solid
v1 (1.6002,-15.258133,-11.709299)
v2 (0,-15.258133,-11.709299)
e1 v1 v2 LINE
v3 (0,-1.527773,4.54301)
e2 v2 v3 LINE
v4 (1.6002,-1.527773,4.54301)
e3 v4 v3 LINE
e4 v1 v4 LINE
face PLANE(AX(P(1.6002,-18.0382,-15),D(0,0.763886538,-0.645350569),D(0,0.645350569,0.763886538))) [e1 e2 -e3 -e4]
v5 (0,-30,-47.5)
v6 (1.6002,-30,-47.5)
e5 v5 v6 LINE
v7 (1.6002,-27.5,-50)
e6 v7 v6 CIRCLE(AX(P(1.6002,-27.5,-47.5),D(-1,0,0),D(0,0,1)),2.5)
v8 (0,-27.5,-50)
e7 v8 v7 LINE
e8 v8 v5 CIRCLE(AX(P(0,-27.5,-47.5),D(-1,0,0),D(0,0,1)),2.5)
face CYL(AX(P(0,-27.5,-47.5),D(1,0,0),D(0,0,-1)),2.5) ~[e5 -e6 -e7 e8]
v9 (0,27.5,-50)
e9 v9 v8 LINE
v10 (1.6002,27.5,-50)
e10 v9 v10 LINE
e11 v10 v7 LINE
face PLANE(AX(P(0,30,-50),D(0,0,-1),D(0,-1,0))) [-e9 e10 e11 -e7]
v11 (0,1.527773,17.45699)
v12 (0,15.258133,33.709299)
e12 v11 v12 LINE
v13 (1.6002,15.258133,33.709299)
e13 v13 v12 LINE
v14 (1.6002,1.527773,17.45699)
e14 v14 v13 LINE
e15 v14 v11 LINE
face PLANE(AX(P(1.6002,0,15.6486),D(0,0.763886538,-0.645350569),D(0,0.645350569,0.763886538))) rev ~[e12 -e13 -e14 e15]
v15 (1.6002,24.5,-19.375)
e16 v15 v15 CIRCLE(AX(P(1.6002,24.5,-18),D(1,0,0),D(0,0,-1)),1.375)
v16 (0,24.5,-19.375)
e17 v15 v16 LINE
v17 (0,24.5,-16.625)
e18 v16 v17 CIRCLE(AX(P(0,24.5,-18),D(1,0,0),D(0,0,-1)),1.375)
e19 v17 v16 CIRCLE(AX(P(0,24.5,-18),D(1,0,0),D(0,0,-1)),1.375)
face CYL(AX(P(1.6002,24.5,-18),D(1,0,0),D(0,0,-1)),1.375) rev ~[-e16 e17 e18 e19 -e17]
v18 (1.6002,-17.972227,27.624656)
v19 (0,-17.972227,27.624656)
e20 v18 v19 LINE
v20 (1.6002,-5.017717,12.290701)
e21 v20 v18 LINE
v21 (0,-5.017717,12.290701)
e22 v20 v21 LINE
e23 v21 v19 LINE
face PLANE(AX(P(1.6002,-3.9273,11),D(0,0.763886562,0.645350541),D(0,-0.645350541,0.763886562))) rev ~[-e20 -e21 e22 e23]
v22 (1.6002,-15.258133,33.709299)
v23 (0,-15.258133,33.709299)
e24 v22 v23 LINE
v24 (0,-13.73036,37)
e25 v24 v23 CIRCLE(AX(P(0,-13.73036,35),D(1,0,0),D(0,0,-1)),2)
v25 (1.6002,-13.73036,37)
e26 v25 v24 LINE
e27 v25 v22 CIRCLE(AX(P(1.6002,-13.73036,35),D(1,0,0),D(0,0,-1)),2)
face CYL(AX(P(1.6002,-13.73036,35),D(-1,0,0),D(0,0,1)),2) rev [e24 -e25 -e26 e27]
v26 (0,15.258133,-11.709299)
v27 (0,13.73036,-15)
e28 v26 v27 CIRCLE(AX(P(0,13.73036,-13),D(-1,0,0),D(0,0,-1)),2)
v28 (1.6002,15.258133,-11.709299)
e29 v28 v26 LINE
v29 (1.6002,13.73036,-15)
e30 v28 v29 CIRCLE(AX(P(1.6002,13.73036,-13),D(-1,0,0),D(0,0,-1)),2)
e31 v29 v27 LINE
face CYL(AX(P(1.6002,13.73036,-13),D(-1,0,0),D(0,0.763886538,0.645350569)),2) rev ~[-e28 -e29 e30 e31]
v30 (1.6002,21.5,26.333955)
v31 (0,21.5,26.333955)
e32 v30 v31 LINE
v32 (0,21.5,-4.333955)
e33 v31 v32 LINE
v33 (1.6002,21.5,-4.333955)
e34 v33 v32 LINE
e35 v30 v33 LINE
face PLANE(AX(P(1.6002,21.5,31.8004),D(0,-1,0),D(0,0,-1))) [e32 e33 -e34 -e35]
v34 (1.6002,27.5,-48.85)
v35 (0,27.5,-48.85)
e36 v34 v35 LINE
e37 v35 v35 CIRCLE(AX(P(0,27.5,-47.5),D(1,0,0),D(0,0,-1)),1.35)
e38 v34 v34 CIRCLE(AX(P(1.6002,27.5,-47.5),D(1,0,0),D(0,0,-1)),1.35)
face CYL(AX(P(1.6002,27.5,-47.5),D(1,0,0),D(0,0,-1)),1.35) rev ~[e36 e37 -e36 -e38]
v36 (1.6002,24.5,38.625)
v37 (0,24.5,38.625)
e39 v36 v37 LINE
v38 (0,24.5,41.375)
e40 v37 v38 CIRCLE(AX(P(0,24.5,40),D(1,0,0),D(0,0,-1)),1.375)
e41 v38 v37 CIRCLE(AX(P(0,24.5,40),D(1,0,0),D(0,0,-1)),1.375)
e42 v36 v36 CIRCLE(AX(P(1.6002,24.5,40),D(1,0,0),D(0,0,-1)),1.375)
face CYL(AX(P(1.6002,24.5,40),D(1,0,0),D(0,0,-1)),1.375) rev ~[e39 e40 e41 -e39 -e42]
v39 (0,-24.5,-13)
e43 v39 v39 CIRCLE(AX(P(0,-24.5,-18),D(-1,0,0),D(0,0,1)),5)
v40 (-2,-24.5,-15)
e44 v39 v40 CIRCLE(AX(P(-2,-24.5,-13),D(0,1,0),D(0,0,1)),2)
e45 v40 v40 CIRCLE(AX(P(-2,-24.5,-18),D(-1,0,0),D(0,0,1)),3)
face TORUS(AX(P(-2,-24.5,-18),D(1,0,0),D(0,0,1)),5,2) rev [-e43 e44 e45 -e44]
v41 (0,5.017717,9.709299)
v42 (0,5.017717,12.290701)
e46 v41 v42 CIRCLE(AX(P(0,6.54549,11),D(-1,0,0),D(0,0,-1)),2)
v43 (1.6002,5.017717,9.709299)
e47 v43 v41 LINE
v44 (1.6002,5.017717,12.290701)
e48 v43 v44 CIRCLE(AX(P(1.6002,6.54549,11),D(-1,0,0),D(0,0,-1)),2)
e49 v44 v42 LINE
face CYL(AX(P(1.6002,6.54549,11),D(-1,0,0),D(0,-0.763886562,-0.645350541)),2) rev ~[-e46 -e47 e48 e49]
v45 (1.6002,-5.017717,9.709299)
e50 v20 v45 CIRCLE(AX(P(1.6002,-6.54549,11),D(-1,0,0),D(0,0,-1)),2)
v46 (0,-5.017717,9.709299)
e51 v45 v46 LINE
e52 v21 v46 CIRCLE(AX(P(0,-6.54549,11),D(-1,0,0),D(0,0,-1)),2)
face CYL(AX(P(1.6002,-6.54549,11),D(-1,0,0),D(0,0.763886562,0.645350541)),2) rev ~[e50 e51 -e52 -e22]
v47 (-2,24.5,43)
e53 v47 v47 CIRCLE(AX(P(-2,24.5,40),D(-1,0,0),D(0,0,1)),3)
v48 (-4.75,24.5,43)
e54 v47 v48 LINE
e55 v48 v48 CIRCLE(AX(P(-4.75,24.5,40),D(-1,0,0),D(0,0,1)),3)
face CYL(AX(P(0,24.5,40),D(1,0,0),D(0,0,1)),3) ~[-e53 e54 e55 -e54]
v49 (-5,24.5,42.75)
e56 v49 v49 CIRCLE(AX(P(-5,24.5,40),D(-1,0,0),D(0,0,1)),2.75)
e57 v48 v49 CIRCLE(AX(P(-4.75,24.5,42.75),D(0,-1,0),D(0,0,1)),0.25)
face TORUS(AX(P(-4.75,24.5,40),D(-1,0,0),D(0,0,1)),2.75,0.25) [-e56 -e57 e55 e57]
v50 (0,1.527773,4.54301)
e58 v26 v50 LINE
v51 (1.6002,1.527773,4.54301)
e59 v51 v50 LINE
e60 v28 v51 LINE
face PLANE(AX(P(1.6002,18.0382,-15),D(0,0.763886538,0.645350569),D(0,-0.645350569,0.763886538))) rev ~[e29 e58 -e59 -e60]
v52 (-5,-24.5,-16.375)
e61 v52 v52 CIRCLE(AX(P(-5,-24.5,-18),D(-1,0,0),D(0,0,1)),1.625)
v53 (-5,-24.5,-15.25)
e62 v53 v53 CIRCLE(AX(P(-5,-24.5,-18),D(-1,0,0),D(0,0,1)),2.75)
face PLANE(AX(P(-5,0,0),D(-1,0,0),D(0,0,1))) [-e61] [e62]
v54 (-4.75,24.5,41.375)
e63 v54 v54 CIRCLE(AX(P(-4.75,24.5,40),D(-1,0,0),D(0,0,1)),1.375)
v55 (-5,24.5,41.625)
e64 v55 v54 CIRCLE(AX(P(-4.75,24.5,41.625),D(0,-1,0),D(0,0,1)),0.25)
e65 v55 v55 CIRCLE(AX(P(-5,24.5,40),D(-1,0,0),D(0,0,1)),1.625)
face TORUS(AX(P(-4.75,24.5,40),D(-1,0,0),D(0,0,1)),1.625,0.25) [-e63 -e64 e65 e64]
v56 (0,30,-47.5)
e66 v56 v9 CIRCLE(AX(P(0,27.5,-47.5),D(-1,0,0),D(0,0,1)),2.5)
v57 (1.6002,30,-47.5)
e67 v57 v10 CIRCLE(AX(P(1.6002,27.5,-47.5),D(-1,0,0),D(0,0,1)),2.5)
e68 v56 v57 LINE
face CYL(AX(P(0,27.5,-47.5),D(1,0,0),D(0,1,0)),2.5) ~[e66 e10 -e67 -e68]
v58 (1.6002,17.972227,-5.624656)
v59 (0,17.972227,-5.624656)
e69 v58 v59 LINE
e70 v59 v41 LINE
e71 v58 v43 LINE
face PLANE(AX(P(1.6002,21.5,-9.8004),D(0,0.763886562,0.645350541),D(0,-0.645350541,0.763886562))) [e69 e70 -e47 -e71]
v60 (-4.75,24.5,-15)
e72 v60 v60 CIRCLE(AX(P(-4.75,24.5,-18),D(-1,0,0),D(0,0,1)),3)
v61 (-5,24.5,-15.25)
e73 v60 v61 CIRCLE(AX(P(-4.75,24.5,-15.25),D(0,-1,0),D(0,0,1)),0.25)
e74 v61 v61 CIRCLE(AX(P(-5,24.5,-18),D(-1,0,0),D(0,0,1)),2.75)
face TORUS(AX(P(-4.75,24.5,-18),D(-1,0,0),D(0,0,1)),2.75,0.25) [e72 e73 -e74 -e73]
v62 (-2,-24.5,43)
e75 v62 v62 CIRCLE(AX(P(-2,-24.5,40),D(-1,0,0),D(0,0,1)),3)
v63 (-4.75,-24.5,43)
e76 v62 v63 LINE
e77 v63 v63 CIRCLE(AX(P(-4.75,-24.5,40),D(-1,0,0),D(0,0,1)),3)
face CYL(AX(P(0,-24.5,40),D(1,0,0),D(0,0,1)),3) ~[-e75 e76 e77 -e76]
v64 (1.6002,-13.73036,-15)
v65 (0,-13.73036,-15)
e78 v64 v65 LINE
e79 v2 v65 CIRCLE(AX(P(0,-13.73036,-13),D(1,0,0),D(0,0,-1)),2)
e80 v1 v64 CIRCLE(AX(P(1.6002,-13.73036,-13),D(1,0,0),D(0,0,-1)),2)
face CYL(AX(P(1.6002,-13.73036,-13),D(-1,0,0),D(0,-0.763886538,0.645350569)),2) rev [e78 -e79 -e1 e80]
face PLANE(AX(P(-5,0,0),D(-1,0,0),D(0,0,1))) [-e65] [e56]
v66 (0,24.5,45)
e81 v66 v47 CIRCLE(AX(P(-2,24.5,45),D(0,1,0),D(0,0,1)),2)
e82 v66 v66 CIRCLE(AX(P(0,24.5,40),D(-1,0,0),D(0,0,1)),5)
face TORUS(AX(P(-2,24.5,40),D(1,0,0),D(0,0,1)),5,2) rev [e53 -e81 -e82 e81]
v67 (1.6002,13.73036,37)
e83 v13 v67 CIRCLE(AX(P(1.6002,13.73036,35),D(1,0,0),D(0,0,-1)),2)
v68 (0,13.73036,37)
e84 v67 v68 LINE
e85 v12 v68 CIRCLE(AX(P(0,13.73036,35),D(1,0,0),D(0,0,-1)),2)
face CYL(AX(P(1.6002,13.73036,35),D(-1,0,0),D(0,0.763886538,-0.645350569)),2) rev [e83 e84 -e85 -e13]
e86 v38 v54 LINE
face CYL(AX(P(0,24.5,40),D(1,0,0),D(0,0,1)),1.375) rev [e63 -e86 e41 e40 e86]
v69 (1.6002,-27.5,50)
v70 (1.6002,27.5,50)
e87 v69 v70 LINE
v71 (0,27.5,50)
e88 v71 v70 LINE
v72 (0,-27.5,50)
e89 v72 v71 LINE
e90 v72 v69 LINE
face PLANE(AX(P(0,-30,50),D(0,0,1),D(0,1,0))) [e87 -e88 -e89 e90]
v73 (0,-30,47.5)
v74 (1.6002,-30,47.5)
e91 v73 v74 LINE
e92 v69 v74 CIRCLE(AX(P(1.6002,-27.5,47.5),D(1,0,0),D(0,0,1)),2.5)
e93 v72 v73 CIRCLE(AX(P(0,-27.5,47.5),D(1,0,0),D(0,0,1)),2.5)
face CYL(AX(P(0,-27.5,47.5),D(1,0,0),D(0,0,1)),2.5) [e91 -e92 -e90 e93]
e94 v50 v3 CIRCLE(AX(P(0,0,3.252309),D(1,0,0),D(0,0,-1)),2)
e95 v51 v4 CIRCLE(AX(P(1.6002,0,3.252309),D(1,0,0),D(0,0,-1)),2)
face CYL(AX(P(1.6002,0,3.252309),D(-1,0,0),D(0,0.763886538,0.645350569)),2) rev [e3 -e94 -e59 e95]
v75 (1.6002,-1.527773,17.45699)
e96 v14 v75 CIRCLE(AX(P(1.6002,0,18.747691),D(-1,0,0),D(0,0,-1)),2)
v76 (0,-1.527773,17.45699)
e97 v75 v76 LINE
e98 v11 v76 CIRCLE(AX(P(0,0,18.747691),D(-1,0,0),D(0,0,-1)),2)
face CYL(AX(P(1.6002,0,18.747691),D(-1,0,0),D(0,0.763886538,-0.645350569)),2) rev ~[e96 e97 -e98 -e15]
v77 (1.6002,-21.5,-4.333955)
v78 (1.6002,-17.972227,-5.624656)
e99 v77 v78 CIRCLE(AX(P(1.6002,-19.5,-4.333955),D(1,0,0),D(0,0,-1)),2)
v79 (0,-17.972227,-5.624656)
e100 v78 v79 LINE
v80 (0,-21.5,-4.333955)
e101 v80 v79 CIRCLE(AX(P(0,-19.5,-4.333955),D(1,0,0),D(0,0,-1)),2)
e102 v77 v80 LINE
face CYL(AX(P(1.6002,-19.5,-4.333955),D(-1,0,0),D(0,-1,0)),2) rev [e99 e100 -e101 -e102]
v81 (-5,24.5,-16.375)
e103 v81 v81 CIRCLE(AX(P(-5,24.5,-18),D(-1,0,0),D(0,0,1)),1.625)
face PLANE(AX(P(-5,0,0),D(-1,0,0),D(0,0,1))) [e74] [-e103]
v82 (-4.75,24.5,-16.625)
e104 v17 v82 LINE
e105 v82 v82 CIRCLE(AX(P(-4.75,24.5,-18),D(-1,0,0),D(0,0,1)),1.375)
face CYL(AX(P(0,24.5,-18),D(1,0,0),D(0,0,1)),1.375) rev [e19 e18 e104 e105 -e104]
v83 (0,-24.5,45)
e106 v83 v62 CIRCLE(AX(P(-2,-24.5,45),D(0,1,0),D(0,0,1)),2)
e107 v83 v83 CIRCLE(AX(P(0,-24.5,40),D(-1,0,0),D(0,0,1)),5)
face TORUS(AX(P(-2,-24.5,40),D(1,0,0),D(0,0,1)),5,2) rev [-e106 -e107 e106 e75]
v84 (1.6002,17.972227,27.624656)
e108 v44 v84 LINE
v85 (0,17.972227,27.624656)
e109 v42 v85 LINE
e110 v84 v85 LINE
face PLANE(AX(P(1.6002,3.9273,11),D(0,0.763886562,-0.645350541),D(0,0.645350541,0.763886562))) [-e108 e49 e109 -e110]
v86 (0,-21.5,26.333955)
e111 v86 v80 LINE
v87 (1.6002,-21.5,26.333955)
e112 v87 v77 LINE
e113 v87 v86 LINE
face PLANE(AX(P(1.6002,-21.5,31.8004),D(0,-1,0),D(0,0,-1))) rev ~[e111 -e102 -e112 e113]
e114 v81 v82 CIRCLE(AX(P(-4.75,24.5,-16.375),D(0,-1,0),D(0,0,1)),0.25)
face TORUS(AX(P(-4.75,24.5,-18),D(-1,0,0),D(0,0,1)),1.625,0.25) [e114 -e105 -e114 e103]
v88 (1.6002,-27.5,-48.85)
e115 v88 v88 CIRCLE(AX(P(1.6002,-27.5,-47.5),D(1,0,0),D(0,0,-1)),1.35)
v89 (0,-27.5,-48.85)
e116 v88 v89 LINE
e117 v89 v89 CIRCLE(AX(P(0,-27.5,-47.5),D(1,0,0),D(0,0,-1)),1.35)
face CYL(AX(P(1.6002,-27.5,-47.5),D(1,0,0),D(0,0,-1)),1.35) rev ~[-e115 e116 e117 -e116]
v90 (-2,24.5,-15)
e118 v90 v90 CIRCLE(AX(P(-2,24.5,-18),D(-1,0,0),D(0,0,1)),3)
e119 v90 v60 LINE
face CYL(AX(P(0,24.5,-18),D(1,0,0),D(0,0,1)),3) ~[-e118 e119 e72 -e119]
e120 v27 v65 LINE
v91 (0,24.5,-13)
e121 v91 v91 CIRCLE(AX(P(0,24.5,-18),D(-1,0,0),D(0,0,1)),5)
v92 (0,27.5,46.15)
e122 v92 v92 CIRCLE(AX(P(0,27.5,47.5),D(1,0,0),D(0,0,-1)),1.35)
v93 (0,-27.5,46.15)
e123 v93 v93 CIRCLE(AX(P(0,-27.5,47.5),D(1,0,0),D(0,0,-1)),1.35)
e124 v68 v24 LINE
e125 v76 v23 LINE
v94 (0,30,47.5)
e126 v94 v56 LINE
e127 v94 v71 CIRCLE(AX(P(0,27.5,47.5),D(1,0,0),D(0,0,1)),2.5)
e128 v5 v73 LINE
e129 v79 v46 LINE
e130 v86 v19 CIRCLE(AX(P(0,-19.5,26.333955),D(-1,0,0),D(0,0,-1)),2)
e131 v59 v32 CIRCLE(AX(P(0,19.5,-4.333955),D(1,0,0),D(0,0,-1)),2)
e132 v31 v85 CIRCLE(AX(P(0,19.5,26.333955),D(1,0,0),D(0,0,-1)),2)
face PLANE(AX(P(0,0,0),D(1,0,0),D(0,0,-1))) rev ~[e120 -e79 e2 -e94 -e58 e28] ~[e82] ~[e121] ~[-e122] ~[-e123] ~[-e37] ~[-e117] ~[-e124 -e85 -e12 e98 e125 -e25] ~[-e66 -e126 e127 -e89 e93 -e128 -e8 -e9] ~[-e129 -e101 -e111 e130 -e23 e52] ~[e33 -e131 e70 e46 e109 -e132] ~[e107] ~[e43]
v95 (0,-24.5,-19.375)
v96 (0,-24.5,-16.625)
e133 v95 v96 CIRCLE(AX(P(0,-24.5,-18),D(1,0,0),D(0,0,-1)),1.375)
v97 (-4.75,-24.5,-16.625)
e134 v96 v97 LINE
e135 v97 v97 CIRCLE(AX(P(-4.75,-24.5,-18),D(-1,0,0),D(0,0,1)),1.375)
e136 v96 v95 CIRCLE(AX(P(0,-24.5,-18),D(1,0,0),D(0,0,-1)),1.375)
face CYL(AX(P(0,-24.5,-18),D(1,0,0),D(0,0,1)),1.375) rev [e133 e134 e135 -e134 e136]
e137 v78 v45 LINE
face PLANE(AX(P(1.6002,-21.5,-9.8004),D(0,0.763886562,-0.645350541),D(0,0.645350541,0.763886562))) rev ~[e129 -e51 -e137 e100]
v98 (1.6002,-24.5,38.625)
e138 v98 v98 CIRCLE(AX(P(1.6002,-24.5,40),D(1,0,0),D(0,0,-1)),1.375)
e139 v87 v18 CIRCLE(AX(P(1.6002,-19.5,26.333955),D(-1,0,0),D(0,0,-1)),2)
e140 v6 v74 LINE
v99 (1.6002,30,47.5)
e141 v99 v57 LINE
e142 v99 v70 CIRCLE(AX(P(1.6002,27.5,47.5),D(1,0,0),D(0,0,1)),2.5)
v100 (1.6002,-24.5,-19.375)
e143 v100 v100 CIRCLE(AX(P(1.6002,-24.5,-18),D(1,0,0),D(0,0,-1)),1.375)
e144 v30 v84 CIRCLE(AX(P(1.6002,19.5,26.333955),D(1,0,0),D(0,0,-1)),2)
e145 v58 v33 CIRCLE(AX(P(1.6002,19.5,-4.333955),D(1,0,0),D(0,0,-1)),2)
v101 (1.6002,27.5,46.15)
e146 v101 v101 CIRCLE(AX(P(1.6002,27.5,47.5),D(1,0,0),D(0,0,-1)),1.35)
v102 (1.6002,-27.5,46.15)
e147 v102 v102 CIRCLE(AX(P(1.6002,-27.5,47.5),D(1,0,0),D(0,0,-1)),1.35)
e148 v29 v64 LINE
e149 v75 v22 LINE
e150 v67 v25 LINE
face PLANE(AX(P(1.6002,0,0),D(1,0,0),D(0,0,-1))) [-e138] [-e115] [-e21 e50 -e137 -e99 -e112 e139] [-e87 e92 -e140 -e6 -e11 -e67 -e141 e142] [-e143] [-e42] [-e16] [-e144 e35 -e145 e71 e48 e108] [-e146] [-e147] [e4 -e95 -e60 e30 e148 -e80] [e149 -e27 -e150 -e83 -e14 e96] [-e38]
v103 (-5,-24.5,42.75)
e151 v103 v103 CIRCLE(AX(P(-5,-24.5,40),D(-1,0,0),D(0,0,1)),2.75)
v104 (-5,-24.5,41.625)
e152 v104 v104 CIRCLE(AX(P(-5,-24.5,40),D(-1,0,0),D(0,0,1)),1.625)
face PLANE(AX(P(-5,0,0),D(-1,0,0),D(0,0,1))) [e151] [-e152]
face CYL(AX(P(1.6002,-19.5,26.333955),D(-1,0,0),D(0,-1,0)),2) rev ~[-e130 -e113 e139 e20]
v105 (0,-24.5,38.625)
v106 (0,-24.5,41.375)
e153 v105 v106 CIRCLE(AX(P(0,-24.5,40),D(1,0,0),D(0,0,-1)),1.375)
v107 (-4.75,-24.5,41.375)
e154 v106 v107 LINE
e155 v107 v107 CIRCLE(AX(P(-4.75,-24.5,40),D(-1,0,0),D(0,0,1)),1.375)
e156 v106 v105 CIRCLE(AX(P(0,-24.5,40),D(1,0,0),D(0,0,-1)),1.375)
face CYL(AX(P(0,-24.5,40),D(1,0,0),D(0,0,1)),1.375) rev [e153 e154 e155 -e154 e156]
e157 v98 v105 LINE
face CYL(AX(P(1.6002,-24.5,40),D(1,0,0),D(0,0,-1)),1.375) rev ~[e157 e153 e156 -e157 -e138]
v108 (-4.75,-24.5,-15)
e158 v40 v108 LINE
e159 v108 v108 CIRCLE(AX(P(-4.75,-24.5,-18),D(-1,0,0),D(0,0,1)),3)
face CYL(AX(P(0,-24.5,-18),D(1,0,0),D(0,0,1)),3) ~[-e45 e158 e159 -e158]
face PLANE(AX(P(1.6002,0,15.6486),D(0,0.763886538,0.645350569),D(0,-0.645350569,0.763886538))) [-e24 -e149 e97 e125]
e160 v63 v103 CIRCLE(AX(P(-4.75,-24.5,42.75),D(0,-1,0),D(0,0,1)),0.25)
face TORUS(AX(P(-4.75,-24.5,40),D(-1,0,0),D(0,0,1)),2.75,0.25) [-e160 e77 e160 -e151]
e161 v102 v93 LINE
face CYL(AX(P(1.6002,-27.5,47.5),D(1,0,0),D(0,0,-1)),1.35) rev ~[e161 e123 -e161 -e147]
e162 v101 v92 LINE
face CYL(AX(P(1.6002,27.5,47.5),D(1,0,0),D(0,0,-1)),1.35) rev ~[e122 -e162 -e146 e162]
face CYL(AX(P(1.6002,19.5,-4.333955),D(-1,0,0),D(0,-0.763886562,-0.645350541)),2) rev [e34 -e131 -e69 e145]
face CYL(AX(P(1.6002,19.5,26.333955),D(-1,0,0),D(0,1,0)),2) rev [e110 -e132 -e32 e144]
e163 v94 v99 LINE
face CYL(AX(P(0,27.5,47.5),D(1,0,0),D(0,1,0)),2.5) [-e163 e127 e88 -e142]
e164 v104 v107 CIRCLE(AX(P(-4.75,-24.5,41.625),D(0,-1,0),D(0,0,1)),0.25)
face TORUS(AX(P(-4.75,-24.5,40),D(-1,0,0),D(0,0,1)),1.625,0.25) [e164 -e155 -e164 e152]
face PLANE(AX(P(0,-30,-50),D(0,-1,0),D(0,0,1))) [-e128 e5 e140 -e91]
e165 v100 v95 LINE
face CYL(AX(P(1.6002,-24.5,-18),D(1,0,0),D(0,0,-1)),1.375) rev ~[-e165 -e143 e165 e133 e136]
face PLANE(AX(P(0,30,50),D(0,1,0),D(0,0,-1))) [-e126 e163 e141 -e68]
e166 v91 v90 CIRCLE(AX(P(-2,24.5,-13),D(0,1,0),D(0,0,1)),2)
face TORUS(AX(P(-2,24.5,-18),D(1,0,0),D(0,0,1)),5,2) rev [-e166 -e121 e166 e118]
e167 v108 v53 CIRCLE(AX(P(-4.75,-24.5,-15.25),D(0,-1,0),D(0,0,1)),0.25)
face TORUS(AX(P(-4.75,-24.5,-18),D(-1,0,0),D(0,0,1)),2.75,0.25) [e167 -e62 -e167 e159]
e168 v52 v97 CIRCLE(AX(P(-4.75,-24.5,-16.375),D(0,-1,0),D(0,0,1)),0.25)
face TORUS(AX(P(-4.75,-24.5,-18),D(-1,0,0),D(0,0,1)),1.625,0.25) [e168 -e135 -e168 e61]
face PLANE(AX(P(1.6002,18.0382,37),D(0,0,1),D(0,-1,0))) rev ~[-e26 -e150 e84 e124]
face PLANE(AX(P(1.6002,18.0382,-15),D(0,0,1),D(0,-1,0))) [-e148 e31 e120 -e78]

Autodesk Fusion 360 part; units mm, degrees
sketch "Sketch1" plane through (0, 0, 0) normal (1, 0, 0) x (0, 0, -1)
  line L0 (-50, 30) -> (50, 30)
  line L1 (50, 30) -> (50, -30)
  line L2 (50, -30) -> (-50, -30)
  line L3 (-50, -30) -> (-50, 30)
  line L4 (-50, 30) -> (50, -30) construction
  dimension "d1" = 100
  dimension "d2" = 60
extrude "Extrude1" add sketch "Sketch1" along normal blind 1.6002
sketch "Sketch2" plane through (1.6002, 0, 0) normal (1, 0, 0) x (0, 0, -1)
  line L0 (-50, -30) -> (50, -30)
  line L1 (50, -30) -> (50, 30)
  line L2 (50, 30) -> (-50, 30)
  line L3 (-50, 30) -> (-50, -30)
  line L4 (-50, 0) -> (50, 0) construction
  circle A0 centre (-40, 24.5) radius 1.375
  line L5 (-11, 30) -> (-11, -30) construction
  circle A1 centre (-40, -24.5) radius 1.375
  circle A2 centre (18, 24.5) radius 1.375
  circle A3 centre (18, -24.5) radius 1.375
  arc A4 (47.5, -30) -> (50, -27.5) centre (47.5, -27.5) ccw
  line L6 (50, -27.5) -> (50, 27.5)
  arc A5 (50, 27.5) -> (47.5, 30) centre (47.5, 27.5) ccw
  line L7 (47.5, 30) -> (-47.5, 30)
  arc A6 (-47.5, 30) -> (-50, 27.5) centre (-47.5, 27.5) ccw
  line L8 (-50, 27.5) -> (-50, -27.5)
  arc A7 (-50, -27.5) -> (-47.5, -30) centre (-47.5, -27.5) ccw
  line L9 (-47.5, -30) -> (47.5, -30)
  circle A8 centre (18, 24.5) radius 1.375
  circle A9 centre (18, -24.5) radius 1.375
  circle A10 centre (-40, 24.5) radius 1.375
  circle A11 centre (-40, -24.5) radius 1.375
  line L10 (-37, -13.7304) -> (-37, 13.7304)
  arc A12 (-33.7093, 15.2582) -> (-37, 13.7304) centre (-35, 13.7304) ccw
  line L11 (-33.7093, 15.2582) -> (-17.457, 1.5278)
  arc A13 (-17.457, -1.5278) -> (-17.457, 1.5278) centre (-18.7477, 0) ccw
  line L12 (-17.457, -1.5278) -> (-33.7093, -15.2582)
  arc A14 (-37, -13.7304) -> (-33.7093, -15.2582) centre (-35, -13.7304) ccw
  line L13 (-4.543, 1.5278) -> (11.7093, 15.2582)
  arc A15 (15, 13.7304) -> (11.7093, 15.2582) centre (13, 13.7304) ccw
  line L14 (15, 13.7304) -> (15, -13.7304)
  arc A16 (11.7093, -15.2582) -> (15, -13.7304) centre (13, -13.7304) ccw
  line L15 (11.7093, -15.2582) -> (-4.543, -1.5278)
  arc A17 (-4.543, 1.5278) -> (-4.543, -1.5278) centre (-3.2523, 0) ccw
  line L16 (-26.3339, 21.5) -> (4.3339, 21.5)
  arc A18 (5.6246, 17.9722) -> (4.3339, 21.5) centre (4.3339, 19.5) ccw
  line L17 (5.6246, 17.9722) -> (-9.7093, 5.0177)
  arc A19 (-12.2907, 5.0177) -> (-9.7093, 5.0177) centre (-11, 6.5455) ccw
  line L18 (-12.2907, 5.0177) -> (-27.6246, 17.9722)
  arc A20 (-26.3339, 21.5) -> (-27.6246, 17.9722) centre (-26.3339, 19.5) ccw
  line L19 (4.3339, -21.5) -> (-26.3339, -21.5)
  arc A21 (-27.6246, -17.9722) -> (-26.3339, -21.5) centre (-26.3339, -19.5) ccw
  line L20 (-27.6246, -17.9722) -> (-12.2907, -5.0177)
  arc A22 (-9.7093, -5.0177) -> (-12.2907, -5.0177) centre (-11, -6.5455) ccw
  line L21 (-9.7093, -5.0177) -> (5.6246, -17.9722)
  arc A23 (4.3339, -21.5) -> (5.6246, -17.9722) centre (4.3339, -19.5) ccw
  arc A24 (47.5, -30) -> (50, -27.5) centre (47.5, -27.5) ccw
  line L22 (50, -27.5) -> (50, 27.5)
  arc A25 (50, 27.5) -> (47.5, 30) centre (47.5, 27.5) ccw
  line L23 (47.5, 30) -> (-47.5, 30)
  arc A26 (-47.5, 30) -> (-50, 27.5) centre (-47.5, 27.5) ccw
  line L24 (-50, 27.5) -> (-50, -27.5)
  arc A27 (-50, -27.5) -> (-47.5, -30) centre (-47.5, -27.5) ccw
  line L25 (-47.5, -30) -> (47.5, -30)
  circle A28 centre (18, 24.5) radius 1.375
  circle A29 centre (18, -24.5) radius 1.375
  circle A30 centre (-40, 24.5) radius 1.375
  circle A31 centre (-40, -24.5) radius 1.375
  circle A32 centre (47.5, 27.5) radius 1.35
  circle A33 centre (47.5, -27.5) radius 1.35
  circle A34 centre (-47.5, 27.5) radius 1.35
  circle A35 centre (-47.5, -27.5) radius 1.35
  line L26 (-37, -13.7304) -> (-37, 13.7304)
  arc A36 (-33.7093, 15.2582) -> (-37, 13.7304) centre (-35, 13.7304) ccw
  line L27 (-33.7093, 15.2582) -> (-17.457, 1.5278)
  arc A37 (-17.457, -1.5278) -> (-17.457, 1.5278) centre (-18.7477, 0) ccw
  line L28 (-17.457, -1.5278) -> (-33.7093, -15.2582)
  arc A38 (-37, -13.7304) -> (-33.7093, -15.2582) centre (-35, -13.7304) ccw
  line L29 (-4.543, 1.5278) -> (11.7093, 15.2582)
  arc A39 (15, 13.7304) -> (11.7093, 15.2582) centre (13, 13.7304) ccw
  line L30 (15, 13.7304) -> (15, -13.7304)
  arc A40 (11.7093, -15.2582) -> (15, -13.7304) centre (13, -13.7304) ccw
  line L31 (11.7093, -15.2582) -> (-4.543, -1.5278)
  arc A41 (-4.543, 1.5278) -> (-4.543, -1.5278) centre (-3.2523, 0) ccw
  line L32 (-26.3339, 21.5) -> (4.3339, 21.5)
  arc A42 (5.6246, 17.9722) -> (4.3339, 21.5) centre (4.3339, 19.5) ccw
  line L33 (5.6246, 17.9722) -> (-9.7093, 5.0177)
  arc A43 (-12.2907, 5.0177) -> (-9.7093, 5.0177) centre (-11, 6.5455) ccw
  line L34 (-12.2907, 5.0177) -> (-27.6246, 17.9722)
  arc A44 (-26.3339, 21.5) -> (-27.6246, 17.9722) centre (-26.3339, 19.5) ccw
  line L35 (4.3339, -21.5) -> (-26.3339, -21.5)
  arc A45 (-27.6246, -17.9722) -> (-26.3339, -21.5) centre (-26.3339, -19.5) ccw
  line L36 (-27.6246, -17.9722) -> (-12.2907, -5.0177)
  arc A46 (-9.7093, -5.0177) -> (-12.2907, -5.0177) centre (-11, -6.5455) ccw
  line L37 (-9.7093, -5.0177) -> (5.6246, -17.9722)
  arc A47 (4.3339, -21.5) -> (5.6246, -17.9722) centre (4.3339, -19.5) ccw
  arc A48 (47.5, -30) -> (50, -27.5) centre (47.5, -27.5) ccw
  line L38 (50, -27.5) -> (50, 27.5)
  arc A49 (50, 27.5) -> (47.5, 30) centre (47.5, 27.5) ccw
  line L39 (47.5, 30) -> (-47.5, 30)
  arc A50 (-47.5, 30) -> (-50, 27.5) centre (-47.5, 27.5) ccw
  line L40 (-50, 27.5) -> (-50, -27.5)
  arc A51 (-50, -27.5) -> (-47.5, -30) centre (-47.5, -27.5) ccw
  line L41 (-47.5, -30) -> (47.5, -30)
  circle A52 centre (18, 24.5) radius 1.375
  circle A53 centre (18, -24.5) radius 1.375
  circle A54 centre (-40, 24.5) radius 1.375
  circle A55 centre (-40, -24.5) radius 1.375
  circle A56 centre (-47.5, 27.5) radius 1.35
  circle A57 centre (-47.5, -27.5) radius 1.35
  circle A58 centre (47.5, 27.5) radius 1.35
  circle A59 centre (47.5, -27.5) radius 1.35
  line L42 (37, 13.7304) -> (37, -13.7304)
  arc A60 (33.7093, -15.2582) -> (37, -13.7304) centre (35, -13.7304) ccw
  line L43 (33.7093, -15.2582) -> (17.457, -1.5278)
  arc A61 (17.457, 1.5278) -> (17.457, -1.5278) centre (18.7477, 0) ccw
  line L44 (17.457, 1.5278) -> (33.7093, 15.2582)
  arc A62 (37, 13.7304) -> (33.7093, 15.2582) centre (35, 13.7304) ccw
  line L45 (-11.7093, 15.2582) -> (4.543, 1.5278)
  arc A63 (4.543, -1.5278) -> (4.543, 1.5278) centre (3.2523, 0) ccw
  line L46 (4.543, -1.5278) -> (-11.7093, -15.2582)
  arc A64 (-15, -13.7304) -> (-11.7093, -15.2582) centre (-13, -13.7304) ccw
  line L47 (-15, -13.7304) -> (-15, 13.7304)
  arc A65 (-11.7093, 15.2582) -> (-15, 13.7304) centre (-13, 13.7304) ccw
  line L48 (-4.3339, 21.5) -> (26.3339, 21.5)
  arc A66 (27.6246, 17.9722) -> (26.3339, 21.5) centre (26.3339, 19.5) ccw
  line L49 (27.6246, 17.9722) -> (12.2907, 5.0177)
  arc A67 (9.7093, 5.0177) -> (12.2907, 5.0177) centre (11, 6.5455) ccw
  line L50 (9.7093, 5.0177) -> (-5.6246, 17.9722)
  arc A68 (-4.3339, 21.5) -> (-5.6246, 17.9722) centre (-4.3339, 19.5) ccw
  line L51 (26.3339, -21.5) -> (-4.3339, -21.5)
  arc A69 (-5.6246, -17.9722) -> (-4.3339, -21.5) centre (-4.3339, -19.5) ccw
  line L52 (-5.6246, -17.9722) -> (9.7093, -5.0177)
  arc A70 (12.2907, -5.0177) -> (9.7093, -5.0177) centre (11, -6.5455) ccw
  line L53 (12.2907, -5.0177) -> (27.6246, -17.9722)
  arc A71 (26.3339, -21.5) -> (27.6246, -17.9722) centre (26.3339, -19.5) ccw
  circle A72 centre (-18, 24.5) radius 1.375
  circle A73 centre (-18, -24.5) radius 1.375
  circle A74 centre (40, 24.5) radius 1.375
  circle A75 centre (40, -24.5) radius 1.375
  arc A76 (-50, -27.5) -> (-47.5, -30) centre (-47.5, -27.5) ccw
  line L54 (-47.5, -30) -> (47.5, -30)
  arc A77 (47.5, -30) -> (50, -27.5) centre (47.5, -27.5) ccw
  line L55 (50, -27.5) -> (50, 27.5)
  arc A78 (50, 27.5) -> (47.5, 30) centre (47.5, 27.5) ccw
  line L56 (47.5, 30) -> (-47.5, 30)
  arc A79 (-47.5, 30) -> (-50, 27.5) centre (-47.5, 27.5) ccw
  line L57 (-50, 27.5) -> (-50, -27.5)
  dimension "d5" = 58
  dimension "d6" = 49
  dimension "d7" = 2.75
  dimension "d8" = 10
extrude "Extrude2" cut sketch "Sketch2" against normal through all contours A0 A10 A30 A54 | A1 A11 A31 A55 | A2 A8 A28 A52 | A3 A9 A29 A53
fillet "Fillet1" radius 2.5 4 edges at (0.8001, 30, -50) (0.8001, 30, 50) (0.8001, -30, 50) (0.8001, -30, -50)
sketch "Sketch4" plane through (1.6002, 0, 0) normal (1, 0, 0) x (0, 0, -1)
  arc A0 (47.5, -30) -> (50, -27.5) centre (47.5, -27.5) ccw
  line L0 (50, -27.5) -> (50, 27.5)
  arc A1 (50, 27.5) -> (47.5, 30) centre (47.5, 27.5) ccw
  line L1 (47.5, 30) -> (-47.5, 30)
  arc A2 (-47.5, 30) -> (-50, 27.5) centre (-47.5, 27.5) ccw
  line L2 (-50, 27.5) -> (-50, -27.5)
  arc A3 (-50, -27.5) -> (-47.5, -30) centre (-47.5, -27.5) ccw
  line L3 (-47.5, -30) -> (47.5, -30)
  circle A4 centre (18, 24.5) radius 1.375
  circle A5 centre (18, -24.5) radius 1.375
  circle A6 centre (-40, 24.5) radius 1.375
  circle A7 centre (-40, -24.5) radius 1.375
  line L4 (-40, 24.5) -> (18, 24.5)
  line L5 (18, 24.5) -> (-40, -24.5)
  line L6 (-40, -24.5) -> (18, -24.5)
  line L7 (18, -24.5) -> (-40, 24.5)
  line L8 (-40, 24.5) -> (-40, -24.5)
  line L9 (18, 24.5) -> (18, -24.5)
  line L10 (-11, 3.9273) -> (-31.8004, 21.5)
  line L11 (-31.8004, 21.5) -> (9.8004, 21.5)
  line L12 (9.8004, 21.5) -> (-11, 3.9273)
  line L13 (9.8004, -21.5) -> (-11, -3.9273)
  line L14 (-11, -3.9273) -> (-31.8004, -21.5)
  line L15 (-31.8004, -21.5) -> (9.8004, -21.5)
  dimension "d12" = 3
  dimension "d13" = 3
extrude "Extrude3" cut sketch "Sketch4" against normal through all contours L10 L11 L12 | L13 L14 L15
sketch "Sketch6" plane through (1.6002, 0, 0) normal (1, 0, 0) x (0, 0, -1)
  line L0 (-40, 24.5) -> (-40, -24.5)
  line L1 (18, -24.5) -> (-40, 24.5)
  line L2 (18, 24.5) -> (-40, -24.5)
  line L3 (18, 24.5) -> (18, -24.5)
  line L4 (-15.6486, 0) -> (-37, 18.0382)
  line L5 (-37, 18.0382) -> (-37, -18.0382)
  line L6 (-15.6486, 0) -> (-37, -18.0382)
  line L7 (15, 18.0382) -> (-6.3514, 0)
  line L8 (15, 18.0382) -> (15, -18.0382)
  line L9 (15, -18.0382) -> (-6.3514, 0)
  dimension "d15" = 3
  dimension "d16" = 3
extrude "Extrude4" cut sketch "Sketch6" against normal through all contours L4 L5 L6 | L7 L8 L9
fillet "Fillet2" radius 2 12 edges at (0.8001, 18.0382, 37) (0.8001, -3.9273, 11) (0.8001, 21.5, 31.8004) (0.8001, 21.5, -9.8004) (0.8001, 3.9273, 11) (0.8001, -18.0382, -15) (0.8001, 18.0382, -15) (0.8001, -21.5, -9.8004) (0.8001, 0, 15.6486) (0.8001, 0, 6.3514) (0.8001, -18.0382, 37) (0.8001, -21.5, 31.8004)
sketch "Sketch7" plane through (1.6002, 0, 0) normal (1, 0, 0) x (0, 0, -1)
  line L0 (-37, -13.7304) -> (-37, 13.7304)
  arc A0 (-33.7093, 15.2582) -> (-37, 13.7304) centre (-35, 13.7304) ccw
  line L1 (-33.7093, 15.2582) -> (-17.457, 1.5278)
  arc A1 (-17.457, -1.5278) -> (-17.457, 1.5278) centre (-18.7477, 0) ccw
  line L2 (-17.457, -1.5278) -> (-33.7093, -15.2582)
  arc A2 (-37, -13.7304) -> (-33.7093, -15.2582) centre (-35, -13.7304) ccw
  line L3 (-4.543, 1.5278) -> (11.7093, 15.2582)
  arc A3 (15, 13.7304) -> (11.7093, 15.2582) centre (13, 13.7304) ccw
  line L4 (15, 13.7304) -> (15, -13.7304)
  arc A4 (11.7093, -15.2582) -> (15, -13.7304) centre (13, -13.7304) ccw
  line L5 (11.7093, -15.2582) -> (-4.543, -1.5278)
  arc A5 (-4.543, 1.5278) -> (-4.543, -1.5278) centre (-3.2523, 0) ccw
  line L6 (-26.3339, 21.5) -> (4.3339, 21.5)
  arc A6 (5.6246, 17.9722) -> (4.3339, 21.5) centre (4.3339, 19.5) ccw
  line L7 (5.6246, 17.9722) -> (-9.7093, 5.0177)
  arc A7 (-12.2907, 5.0177) -> (-9.7093, 5.0177) centre (-11, 6.5455) ccw
  line L8 (-12.2907, 5.0177) -> (-27.6246, 17.9722)
  arc A8 (-26.3339, 21.5) -> (-27.6246, 17.9722) centre (-26.3339, 19.5) ccw
  line L9 (4.3339, -21.5) -> (-26.3339, -21.5)
  arc A9 (-27.6246, -17.9722) -> (-26.3339, -21.5) centre (-26.3339, -19.5) ccw
  line L10 (-27.6246, -17.9722) -> (-12.2907, -5.0177)
  arc A10 (-9.7093, -5.0177) -> (-12.2907, -5.0177) centre (-11, -6.5455) ccw
  line L11 (-9.7093, -5.0177) -> (5.6246, -17.9722)
  arc A11 (4.3339, -21.5) -> (5.6246, -17.9722) centre (4.3339, -19.5) ccw
  arc A12 (47.5, -30) -> (50, -27.5) centre (47.5, -27.5) ccw
  line L12 (50, -27.5) -> (50, 27.5)
  arc A13 (50, 27.5) -> (47.5, 30) centre (47.5, 27.5) ccw
  line L13 (47.5, 30) -> (-47.5, 30)
  arc A14 (-47.5, 30) -> (-50, 27.5) centre (-47.5, 27.5) ccw
  line L14 (-50, 27.5) -> (-50, -27.5)
  arc A15 (-50, -27.5) -> (-47.5, -30) centre (-47.5, -27.5) ccw
  line L15 (-47.5, -30) -> (47.5, -30)
  circle A16 centre (18, 24.5) radius 1.375
  circle A17 centre (18, -24.5) radius 1.375
  circle A18 centre (-40, 24.5) radius 1.375
  circle A19 centre (-40, -24.5) radius 1.375
  circle A20 centre (47.5, 27.5) radius 1.35
  circle A21 centre (47.5, -27.5) radius 1.35
  circle A22 centre (-47.5, -27.5) radius 1.35
  circle A23 centre (-47.5, 27.5) radius 1.35
  line L16 (0, 30) -> (0, -30) construction
  circle A24 centre (0, 27.5) radius 1.35
  line L17 (-50, 0) -> (50, 0) construction
  circle A25 centre (0, -27.5) radius 1.35
  dimension "d19" = 2.7
  dimension "d24" = 2.5
extrude "Extrude5" cut sketch "Sketch7" against normal through all contours A20 | A21 | A22 | A23
sketch "Sketch8" plane through (1.6002, 0, 0) normal (1, 0, 0) x (0, 0, -1)
  circle A0 centre (47.5, 27.5) radius 1.35
  circle A1 centre (47.5, -27.5) radius 1.35
  circle A2 centre (-47.5, 27.5) radius 1.35
  circle A3 centre (-47.5, -27.5) radius 1.35
  line L0 (-37, -13.7304) -> (-37, 13.7304)
  arc A4 (-33.7093, 15.2582) -> (-37, 13.7304) centre (-35, 13.7304) ccw
  line L1 (-33.7093, 15.2582) -> (-17.457, 1.5278)
  arc A5 (-17.457, -1.5278) -> (-17.457, 1.5278) centre (-18.7477, 0) ccw
  line L2 (-17.457, -1.5278) -> (-33.7093, -15.2582)
  arc A6 (-37, -13.7304) -> (-33.7093, -15.2582) centre (-35, -13.7304) ccw
  line L3 (-4.543, 1.5278) -> (11.7093, 15.2582)
  arc A7 (15, 13.7304) -> (11.7093, 15.2582) centre (13, 13.7304) ccw
  line L4 (15, 13.7304) -> (15, -13.7304)
  arc A8 (11.7093, -15.2582) -> (15, -13.7304) centre (13, -13.7304) ccw
  line L5 (11.7093, -15.2582) -> (-4.543, -1.5278)
  arc A9 (-4.543, 1.5278) -> (-4.543, -1.5278) centre (-3.2523, 0) ccw
  line L6 (-26.3339, 21.5) -> (4.3339, 21.5)
  arc A10 (5.6246, 17.9722) -> (4.3339, 21.5) centre (4.3339, 19.5) ccw
  line L7 (5.6246, 17.9722) -> (-9.7093, 5.0177)
  arc A11 (-12.2907, 5.0177) -> (-9.7093, 5.0177) centre (-11, 6.5455) ccw
  line L8 (-12.2907, 5.0177) -> (-27.6246, 17.9722)
  arc A12 (-26.3339, 21.5) -> (-27.6246, 17.9722) centre (-26.3339, 19.5) ccw
  line L9 (4.3339, -21.5) -> (-26.3339, -21.5)
  arc A13 (-27.6246, -17.9722) -> (-26.3339, -21.5) centre (-26.3339, -19.5) ccw
  line L10 (-27.6246, -17.9722) -> (-12.2907, -5.0177)
  arc A14 (-9.7093, -5.0177) -> (-12.2907, -5.0177) centre (-11, -6.5455) ccw
  line L11 (-9.7093, -5.0177) -> (5.6246, -17.9722)
  arc A15 (4.3339, -21.5) -> (5.6246, -17.9722) centre (4.3339, -19.5) ccw
  arc A16 (47.5, -30) -> (50, -27.5) centre (47.5, -27.5) ccw
  line L12 (50, -27.5) -> (50, 27.5)
  arc A17 (50, 27.5) -> (47.5, 30) centre (47.5, 27.5) ccw
  line L13 (47.5, 30) -> (-47.5, 30)
  arc A18 (-47.5, 30) -> (-50, 27.5) centre (-47.5, 27.5) ccw
  line L14 (-50, 27.5) -> (-50, -27.5)
  arc A19 (-50, -27.5) -> (-47.5, -30) centre (-47.5, -27.5) ccw
  line L15 (-47.5, -30) -> (47.5, -30)
  circle A20 centre (18, 24.5) radius 1.375
  circle A21 centre (18, -24.5) radius 1.375
  circle A22 centre (-40, 24.5) radius 1.375
  circle A23 centre (-40, -24.5) radius 1.375
sketch "Sketch9" plane through (0, 0, 0) normal (-1, 0, 0) x (0, 0, 1)
  circle A0 centre (-47.5, 27.5) radius 1.35
  circle A1 centre (-47.5, -27.5) radius 1.35
  circle A2 centre (47.5, 27.5) radius 1.35
  circle A3 centre (47.5, -27.5) radius 1.35
  line L0 (37, 13.7304) -> (37, -13.7304)
  arc A4 (33.7093, -15.2582) -> (37, -13.7304) centre (35, -13.7304) ccw
  line L1 (33.7093, -15.2582) -> (17.457, -1.5278)
  arc A5 (17.457, 1.5278) -> (17.457, -1.5278) centre (18.7477, 0) ccw
  line L2 (17.457, 1.5278) -> (33.7093, 15.2582)
  arc A6 (37, 13.7304) -> (33.7093, 15.2582) centre (35, 13.7304) ccw
  line L3 (-11.7093, 15.2582) -> (4.543, 1.5278)
  arc A7 (4.543, -1.5278) -> (4.543, 1.5278) centre (3.2523, 0) ccw
  line L4 (4.543, -1.5278) -> (-11.7093, -15.2582)
  arc A8 (-15, -13.7304) -> (-11.7093, -15.2582) centre (-13, -13.7304) ccw
  line L5 (-15, -13.7304) -> (-15, 13.7304)
  arc A9 (-11.7093, 15.2582) -> (-15, 13.7304) centre (-13, 13.7304) ccw
  line L6 (-4.3339, 21.5) -> (26.3339, 21.5)
  arc A10 (27.6246, 17.9722) -> (26.3339, 21.5) centre (26.3339, 19.5) ccw
  line L7 (27.6246, 17.9722) -> (12.2907, 5.0177)
  arc A11 (9.7093, 5.0177) -> (12.2907, 5.0177) centre (11, 6.5455) ccw
  line L8 (9.7093, 5.0177) -> (-5.6246, 17.9722)
  arc A12 (-4.3339, 21.5) -> (-5.6246, 17.9722) centre (-4.3339, 19.5) ccw
  line L9 (26.3339, -21.5) -> (-4.3339, -21.5)
  arc A13 (-5.6246, -17.9722) -> (-4.3339, -21.5) centre (-4.3339, -19.5) ccw
  line L10 (-5.6246, -17.9722) -> (9.7093, -5.0177)
  arc A14 (12.2907, -5.0177) -> (9.7093, -5.0177) centre (11, -6.5455) ccw
  line L11 (12.2907, -5.0177) -> (27.6246, -17.9722)
  arc A15 (26.3339, -21.5) -> (27.6246, -17.9722) centre (26.3339, -19.5) ccw
  circle A16 centre (-18, 24.5) radius 1.375
  circle A17 centre (-18, -24.5) radius 1.375
  circle A18 centre (40, 24.5) radius 1.375
  circle A19 centre (40, -24.5) radius 1.375
  arc A20 (-50, -27.5) -> (-47.5, -30) centre (-47.5, -27.5) ccw
  line L12 (-47.5, -30) -> (47.5, -30)
  arc A21 (47.5, -30) -> (50, -27.5) centre (47.5, -27.5) ccw
  line L13 (50, -27.5) -> (50, 27.5)
  arc A22 (50, 27.5) -> (47.5, 30) centre (47.5, 27.5) ccw
  line L14 (47.5, 30) -> (-47.5, 30)
  arc A23 (-47.5, 30) -> (-50, 27.5) centre (-47.5, 27.5) ccw
  line L15 (-50, 27.5) -> (-50, -27.5)
  circle A24 centre (-18, 24.5) radius 3
  circle A25 centre (40, 24.5) radius 3
  circle A26 centre (40, -24.5) radius 3
  circle A27 centre (-18, -24.5) radius 3
  dimension "d25" = 6
extrude "Extrude6" add sketch "Sketch9" along normal blind 5 contours A24 | A25 | A26 | A27
fillet "Fillet3" radius 2 4 edges at (0, 25.5848, 37.203) (0, 25.5848, -20.797) (0, -23.4152, 37.203) (0, -23.4152, -20.797)
fillet "Fillet4" radius 0.25 8 edges at (-5, 24.9972, 38.718) (-5, 24.9972, -19.282) (-5, -24.0028, 38.718) (-5, -24.0028, -19.282) (-5, -25.5848, -20.797) (-5, 23.4152, -20.797) (-5, 23.4152, 37.203) (-5, -25.5848, 37.203)
